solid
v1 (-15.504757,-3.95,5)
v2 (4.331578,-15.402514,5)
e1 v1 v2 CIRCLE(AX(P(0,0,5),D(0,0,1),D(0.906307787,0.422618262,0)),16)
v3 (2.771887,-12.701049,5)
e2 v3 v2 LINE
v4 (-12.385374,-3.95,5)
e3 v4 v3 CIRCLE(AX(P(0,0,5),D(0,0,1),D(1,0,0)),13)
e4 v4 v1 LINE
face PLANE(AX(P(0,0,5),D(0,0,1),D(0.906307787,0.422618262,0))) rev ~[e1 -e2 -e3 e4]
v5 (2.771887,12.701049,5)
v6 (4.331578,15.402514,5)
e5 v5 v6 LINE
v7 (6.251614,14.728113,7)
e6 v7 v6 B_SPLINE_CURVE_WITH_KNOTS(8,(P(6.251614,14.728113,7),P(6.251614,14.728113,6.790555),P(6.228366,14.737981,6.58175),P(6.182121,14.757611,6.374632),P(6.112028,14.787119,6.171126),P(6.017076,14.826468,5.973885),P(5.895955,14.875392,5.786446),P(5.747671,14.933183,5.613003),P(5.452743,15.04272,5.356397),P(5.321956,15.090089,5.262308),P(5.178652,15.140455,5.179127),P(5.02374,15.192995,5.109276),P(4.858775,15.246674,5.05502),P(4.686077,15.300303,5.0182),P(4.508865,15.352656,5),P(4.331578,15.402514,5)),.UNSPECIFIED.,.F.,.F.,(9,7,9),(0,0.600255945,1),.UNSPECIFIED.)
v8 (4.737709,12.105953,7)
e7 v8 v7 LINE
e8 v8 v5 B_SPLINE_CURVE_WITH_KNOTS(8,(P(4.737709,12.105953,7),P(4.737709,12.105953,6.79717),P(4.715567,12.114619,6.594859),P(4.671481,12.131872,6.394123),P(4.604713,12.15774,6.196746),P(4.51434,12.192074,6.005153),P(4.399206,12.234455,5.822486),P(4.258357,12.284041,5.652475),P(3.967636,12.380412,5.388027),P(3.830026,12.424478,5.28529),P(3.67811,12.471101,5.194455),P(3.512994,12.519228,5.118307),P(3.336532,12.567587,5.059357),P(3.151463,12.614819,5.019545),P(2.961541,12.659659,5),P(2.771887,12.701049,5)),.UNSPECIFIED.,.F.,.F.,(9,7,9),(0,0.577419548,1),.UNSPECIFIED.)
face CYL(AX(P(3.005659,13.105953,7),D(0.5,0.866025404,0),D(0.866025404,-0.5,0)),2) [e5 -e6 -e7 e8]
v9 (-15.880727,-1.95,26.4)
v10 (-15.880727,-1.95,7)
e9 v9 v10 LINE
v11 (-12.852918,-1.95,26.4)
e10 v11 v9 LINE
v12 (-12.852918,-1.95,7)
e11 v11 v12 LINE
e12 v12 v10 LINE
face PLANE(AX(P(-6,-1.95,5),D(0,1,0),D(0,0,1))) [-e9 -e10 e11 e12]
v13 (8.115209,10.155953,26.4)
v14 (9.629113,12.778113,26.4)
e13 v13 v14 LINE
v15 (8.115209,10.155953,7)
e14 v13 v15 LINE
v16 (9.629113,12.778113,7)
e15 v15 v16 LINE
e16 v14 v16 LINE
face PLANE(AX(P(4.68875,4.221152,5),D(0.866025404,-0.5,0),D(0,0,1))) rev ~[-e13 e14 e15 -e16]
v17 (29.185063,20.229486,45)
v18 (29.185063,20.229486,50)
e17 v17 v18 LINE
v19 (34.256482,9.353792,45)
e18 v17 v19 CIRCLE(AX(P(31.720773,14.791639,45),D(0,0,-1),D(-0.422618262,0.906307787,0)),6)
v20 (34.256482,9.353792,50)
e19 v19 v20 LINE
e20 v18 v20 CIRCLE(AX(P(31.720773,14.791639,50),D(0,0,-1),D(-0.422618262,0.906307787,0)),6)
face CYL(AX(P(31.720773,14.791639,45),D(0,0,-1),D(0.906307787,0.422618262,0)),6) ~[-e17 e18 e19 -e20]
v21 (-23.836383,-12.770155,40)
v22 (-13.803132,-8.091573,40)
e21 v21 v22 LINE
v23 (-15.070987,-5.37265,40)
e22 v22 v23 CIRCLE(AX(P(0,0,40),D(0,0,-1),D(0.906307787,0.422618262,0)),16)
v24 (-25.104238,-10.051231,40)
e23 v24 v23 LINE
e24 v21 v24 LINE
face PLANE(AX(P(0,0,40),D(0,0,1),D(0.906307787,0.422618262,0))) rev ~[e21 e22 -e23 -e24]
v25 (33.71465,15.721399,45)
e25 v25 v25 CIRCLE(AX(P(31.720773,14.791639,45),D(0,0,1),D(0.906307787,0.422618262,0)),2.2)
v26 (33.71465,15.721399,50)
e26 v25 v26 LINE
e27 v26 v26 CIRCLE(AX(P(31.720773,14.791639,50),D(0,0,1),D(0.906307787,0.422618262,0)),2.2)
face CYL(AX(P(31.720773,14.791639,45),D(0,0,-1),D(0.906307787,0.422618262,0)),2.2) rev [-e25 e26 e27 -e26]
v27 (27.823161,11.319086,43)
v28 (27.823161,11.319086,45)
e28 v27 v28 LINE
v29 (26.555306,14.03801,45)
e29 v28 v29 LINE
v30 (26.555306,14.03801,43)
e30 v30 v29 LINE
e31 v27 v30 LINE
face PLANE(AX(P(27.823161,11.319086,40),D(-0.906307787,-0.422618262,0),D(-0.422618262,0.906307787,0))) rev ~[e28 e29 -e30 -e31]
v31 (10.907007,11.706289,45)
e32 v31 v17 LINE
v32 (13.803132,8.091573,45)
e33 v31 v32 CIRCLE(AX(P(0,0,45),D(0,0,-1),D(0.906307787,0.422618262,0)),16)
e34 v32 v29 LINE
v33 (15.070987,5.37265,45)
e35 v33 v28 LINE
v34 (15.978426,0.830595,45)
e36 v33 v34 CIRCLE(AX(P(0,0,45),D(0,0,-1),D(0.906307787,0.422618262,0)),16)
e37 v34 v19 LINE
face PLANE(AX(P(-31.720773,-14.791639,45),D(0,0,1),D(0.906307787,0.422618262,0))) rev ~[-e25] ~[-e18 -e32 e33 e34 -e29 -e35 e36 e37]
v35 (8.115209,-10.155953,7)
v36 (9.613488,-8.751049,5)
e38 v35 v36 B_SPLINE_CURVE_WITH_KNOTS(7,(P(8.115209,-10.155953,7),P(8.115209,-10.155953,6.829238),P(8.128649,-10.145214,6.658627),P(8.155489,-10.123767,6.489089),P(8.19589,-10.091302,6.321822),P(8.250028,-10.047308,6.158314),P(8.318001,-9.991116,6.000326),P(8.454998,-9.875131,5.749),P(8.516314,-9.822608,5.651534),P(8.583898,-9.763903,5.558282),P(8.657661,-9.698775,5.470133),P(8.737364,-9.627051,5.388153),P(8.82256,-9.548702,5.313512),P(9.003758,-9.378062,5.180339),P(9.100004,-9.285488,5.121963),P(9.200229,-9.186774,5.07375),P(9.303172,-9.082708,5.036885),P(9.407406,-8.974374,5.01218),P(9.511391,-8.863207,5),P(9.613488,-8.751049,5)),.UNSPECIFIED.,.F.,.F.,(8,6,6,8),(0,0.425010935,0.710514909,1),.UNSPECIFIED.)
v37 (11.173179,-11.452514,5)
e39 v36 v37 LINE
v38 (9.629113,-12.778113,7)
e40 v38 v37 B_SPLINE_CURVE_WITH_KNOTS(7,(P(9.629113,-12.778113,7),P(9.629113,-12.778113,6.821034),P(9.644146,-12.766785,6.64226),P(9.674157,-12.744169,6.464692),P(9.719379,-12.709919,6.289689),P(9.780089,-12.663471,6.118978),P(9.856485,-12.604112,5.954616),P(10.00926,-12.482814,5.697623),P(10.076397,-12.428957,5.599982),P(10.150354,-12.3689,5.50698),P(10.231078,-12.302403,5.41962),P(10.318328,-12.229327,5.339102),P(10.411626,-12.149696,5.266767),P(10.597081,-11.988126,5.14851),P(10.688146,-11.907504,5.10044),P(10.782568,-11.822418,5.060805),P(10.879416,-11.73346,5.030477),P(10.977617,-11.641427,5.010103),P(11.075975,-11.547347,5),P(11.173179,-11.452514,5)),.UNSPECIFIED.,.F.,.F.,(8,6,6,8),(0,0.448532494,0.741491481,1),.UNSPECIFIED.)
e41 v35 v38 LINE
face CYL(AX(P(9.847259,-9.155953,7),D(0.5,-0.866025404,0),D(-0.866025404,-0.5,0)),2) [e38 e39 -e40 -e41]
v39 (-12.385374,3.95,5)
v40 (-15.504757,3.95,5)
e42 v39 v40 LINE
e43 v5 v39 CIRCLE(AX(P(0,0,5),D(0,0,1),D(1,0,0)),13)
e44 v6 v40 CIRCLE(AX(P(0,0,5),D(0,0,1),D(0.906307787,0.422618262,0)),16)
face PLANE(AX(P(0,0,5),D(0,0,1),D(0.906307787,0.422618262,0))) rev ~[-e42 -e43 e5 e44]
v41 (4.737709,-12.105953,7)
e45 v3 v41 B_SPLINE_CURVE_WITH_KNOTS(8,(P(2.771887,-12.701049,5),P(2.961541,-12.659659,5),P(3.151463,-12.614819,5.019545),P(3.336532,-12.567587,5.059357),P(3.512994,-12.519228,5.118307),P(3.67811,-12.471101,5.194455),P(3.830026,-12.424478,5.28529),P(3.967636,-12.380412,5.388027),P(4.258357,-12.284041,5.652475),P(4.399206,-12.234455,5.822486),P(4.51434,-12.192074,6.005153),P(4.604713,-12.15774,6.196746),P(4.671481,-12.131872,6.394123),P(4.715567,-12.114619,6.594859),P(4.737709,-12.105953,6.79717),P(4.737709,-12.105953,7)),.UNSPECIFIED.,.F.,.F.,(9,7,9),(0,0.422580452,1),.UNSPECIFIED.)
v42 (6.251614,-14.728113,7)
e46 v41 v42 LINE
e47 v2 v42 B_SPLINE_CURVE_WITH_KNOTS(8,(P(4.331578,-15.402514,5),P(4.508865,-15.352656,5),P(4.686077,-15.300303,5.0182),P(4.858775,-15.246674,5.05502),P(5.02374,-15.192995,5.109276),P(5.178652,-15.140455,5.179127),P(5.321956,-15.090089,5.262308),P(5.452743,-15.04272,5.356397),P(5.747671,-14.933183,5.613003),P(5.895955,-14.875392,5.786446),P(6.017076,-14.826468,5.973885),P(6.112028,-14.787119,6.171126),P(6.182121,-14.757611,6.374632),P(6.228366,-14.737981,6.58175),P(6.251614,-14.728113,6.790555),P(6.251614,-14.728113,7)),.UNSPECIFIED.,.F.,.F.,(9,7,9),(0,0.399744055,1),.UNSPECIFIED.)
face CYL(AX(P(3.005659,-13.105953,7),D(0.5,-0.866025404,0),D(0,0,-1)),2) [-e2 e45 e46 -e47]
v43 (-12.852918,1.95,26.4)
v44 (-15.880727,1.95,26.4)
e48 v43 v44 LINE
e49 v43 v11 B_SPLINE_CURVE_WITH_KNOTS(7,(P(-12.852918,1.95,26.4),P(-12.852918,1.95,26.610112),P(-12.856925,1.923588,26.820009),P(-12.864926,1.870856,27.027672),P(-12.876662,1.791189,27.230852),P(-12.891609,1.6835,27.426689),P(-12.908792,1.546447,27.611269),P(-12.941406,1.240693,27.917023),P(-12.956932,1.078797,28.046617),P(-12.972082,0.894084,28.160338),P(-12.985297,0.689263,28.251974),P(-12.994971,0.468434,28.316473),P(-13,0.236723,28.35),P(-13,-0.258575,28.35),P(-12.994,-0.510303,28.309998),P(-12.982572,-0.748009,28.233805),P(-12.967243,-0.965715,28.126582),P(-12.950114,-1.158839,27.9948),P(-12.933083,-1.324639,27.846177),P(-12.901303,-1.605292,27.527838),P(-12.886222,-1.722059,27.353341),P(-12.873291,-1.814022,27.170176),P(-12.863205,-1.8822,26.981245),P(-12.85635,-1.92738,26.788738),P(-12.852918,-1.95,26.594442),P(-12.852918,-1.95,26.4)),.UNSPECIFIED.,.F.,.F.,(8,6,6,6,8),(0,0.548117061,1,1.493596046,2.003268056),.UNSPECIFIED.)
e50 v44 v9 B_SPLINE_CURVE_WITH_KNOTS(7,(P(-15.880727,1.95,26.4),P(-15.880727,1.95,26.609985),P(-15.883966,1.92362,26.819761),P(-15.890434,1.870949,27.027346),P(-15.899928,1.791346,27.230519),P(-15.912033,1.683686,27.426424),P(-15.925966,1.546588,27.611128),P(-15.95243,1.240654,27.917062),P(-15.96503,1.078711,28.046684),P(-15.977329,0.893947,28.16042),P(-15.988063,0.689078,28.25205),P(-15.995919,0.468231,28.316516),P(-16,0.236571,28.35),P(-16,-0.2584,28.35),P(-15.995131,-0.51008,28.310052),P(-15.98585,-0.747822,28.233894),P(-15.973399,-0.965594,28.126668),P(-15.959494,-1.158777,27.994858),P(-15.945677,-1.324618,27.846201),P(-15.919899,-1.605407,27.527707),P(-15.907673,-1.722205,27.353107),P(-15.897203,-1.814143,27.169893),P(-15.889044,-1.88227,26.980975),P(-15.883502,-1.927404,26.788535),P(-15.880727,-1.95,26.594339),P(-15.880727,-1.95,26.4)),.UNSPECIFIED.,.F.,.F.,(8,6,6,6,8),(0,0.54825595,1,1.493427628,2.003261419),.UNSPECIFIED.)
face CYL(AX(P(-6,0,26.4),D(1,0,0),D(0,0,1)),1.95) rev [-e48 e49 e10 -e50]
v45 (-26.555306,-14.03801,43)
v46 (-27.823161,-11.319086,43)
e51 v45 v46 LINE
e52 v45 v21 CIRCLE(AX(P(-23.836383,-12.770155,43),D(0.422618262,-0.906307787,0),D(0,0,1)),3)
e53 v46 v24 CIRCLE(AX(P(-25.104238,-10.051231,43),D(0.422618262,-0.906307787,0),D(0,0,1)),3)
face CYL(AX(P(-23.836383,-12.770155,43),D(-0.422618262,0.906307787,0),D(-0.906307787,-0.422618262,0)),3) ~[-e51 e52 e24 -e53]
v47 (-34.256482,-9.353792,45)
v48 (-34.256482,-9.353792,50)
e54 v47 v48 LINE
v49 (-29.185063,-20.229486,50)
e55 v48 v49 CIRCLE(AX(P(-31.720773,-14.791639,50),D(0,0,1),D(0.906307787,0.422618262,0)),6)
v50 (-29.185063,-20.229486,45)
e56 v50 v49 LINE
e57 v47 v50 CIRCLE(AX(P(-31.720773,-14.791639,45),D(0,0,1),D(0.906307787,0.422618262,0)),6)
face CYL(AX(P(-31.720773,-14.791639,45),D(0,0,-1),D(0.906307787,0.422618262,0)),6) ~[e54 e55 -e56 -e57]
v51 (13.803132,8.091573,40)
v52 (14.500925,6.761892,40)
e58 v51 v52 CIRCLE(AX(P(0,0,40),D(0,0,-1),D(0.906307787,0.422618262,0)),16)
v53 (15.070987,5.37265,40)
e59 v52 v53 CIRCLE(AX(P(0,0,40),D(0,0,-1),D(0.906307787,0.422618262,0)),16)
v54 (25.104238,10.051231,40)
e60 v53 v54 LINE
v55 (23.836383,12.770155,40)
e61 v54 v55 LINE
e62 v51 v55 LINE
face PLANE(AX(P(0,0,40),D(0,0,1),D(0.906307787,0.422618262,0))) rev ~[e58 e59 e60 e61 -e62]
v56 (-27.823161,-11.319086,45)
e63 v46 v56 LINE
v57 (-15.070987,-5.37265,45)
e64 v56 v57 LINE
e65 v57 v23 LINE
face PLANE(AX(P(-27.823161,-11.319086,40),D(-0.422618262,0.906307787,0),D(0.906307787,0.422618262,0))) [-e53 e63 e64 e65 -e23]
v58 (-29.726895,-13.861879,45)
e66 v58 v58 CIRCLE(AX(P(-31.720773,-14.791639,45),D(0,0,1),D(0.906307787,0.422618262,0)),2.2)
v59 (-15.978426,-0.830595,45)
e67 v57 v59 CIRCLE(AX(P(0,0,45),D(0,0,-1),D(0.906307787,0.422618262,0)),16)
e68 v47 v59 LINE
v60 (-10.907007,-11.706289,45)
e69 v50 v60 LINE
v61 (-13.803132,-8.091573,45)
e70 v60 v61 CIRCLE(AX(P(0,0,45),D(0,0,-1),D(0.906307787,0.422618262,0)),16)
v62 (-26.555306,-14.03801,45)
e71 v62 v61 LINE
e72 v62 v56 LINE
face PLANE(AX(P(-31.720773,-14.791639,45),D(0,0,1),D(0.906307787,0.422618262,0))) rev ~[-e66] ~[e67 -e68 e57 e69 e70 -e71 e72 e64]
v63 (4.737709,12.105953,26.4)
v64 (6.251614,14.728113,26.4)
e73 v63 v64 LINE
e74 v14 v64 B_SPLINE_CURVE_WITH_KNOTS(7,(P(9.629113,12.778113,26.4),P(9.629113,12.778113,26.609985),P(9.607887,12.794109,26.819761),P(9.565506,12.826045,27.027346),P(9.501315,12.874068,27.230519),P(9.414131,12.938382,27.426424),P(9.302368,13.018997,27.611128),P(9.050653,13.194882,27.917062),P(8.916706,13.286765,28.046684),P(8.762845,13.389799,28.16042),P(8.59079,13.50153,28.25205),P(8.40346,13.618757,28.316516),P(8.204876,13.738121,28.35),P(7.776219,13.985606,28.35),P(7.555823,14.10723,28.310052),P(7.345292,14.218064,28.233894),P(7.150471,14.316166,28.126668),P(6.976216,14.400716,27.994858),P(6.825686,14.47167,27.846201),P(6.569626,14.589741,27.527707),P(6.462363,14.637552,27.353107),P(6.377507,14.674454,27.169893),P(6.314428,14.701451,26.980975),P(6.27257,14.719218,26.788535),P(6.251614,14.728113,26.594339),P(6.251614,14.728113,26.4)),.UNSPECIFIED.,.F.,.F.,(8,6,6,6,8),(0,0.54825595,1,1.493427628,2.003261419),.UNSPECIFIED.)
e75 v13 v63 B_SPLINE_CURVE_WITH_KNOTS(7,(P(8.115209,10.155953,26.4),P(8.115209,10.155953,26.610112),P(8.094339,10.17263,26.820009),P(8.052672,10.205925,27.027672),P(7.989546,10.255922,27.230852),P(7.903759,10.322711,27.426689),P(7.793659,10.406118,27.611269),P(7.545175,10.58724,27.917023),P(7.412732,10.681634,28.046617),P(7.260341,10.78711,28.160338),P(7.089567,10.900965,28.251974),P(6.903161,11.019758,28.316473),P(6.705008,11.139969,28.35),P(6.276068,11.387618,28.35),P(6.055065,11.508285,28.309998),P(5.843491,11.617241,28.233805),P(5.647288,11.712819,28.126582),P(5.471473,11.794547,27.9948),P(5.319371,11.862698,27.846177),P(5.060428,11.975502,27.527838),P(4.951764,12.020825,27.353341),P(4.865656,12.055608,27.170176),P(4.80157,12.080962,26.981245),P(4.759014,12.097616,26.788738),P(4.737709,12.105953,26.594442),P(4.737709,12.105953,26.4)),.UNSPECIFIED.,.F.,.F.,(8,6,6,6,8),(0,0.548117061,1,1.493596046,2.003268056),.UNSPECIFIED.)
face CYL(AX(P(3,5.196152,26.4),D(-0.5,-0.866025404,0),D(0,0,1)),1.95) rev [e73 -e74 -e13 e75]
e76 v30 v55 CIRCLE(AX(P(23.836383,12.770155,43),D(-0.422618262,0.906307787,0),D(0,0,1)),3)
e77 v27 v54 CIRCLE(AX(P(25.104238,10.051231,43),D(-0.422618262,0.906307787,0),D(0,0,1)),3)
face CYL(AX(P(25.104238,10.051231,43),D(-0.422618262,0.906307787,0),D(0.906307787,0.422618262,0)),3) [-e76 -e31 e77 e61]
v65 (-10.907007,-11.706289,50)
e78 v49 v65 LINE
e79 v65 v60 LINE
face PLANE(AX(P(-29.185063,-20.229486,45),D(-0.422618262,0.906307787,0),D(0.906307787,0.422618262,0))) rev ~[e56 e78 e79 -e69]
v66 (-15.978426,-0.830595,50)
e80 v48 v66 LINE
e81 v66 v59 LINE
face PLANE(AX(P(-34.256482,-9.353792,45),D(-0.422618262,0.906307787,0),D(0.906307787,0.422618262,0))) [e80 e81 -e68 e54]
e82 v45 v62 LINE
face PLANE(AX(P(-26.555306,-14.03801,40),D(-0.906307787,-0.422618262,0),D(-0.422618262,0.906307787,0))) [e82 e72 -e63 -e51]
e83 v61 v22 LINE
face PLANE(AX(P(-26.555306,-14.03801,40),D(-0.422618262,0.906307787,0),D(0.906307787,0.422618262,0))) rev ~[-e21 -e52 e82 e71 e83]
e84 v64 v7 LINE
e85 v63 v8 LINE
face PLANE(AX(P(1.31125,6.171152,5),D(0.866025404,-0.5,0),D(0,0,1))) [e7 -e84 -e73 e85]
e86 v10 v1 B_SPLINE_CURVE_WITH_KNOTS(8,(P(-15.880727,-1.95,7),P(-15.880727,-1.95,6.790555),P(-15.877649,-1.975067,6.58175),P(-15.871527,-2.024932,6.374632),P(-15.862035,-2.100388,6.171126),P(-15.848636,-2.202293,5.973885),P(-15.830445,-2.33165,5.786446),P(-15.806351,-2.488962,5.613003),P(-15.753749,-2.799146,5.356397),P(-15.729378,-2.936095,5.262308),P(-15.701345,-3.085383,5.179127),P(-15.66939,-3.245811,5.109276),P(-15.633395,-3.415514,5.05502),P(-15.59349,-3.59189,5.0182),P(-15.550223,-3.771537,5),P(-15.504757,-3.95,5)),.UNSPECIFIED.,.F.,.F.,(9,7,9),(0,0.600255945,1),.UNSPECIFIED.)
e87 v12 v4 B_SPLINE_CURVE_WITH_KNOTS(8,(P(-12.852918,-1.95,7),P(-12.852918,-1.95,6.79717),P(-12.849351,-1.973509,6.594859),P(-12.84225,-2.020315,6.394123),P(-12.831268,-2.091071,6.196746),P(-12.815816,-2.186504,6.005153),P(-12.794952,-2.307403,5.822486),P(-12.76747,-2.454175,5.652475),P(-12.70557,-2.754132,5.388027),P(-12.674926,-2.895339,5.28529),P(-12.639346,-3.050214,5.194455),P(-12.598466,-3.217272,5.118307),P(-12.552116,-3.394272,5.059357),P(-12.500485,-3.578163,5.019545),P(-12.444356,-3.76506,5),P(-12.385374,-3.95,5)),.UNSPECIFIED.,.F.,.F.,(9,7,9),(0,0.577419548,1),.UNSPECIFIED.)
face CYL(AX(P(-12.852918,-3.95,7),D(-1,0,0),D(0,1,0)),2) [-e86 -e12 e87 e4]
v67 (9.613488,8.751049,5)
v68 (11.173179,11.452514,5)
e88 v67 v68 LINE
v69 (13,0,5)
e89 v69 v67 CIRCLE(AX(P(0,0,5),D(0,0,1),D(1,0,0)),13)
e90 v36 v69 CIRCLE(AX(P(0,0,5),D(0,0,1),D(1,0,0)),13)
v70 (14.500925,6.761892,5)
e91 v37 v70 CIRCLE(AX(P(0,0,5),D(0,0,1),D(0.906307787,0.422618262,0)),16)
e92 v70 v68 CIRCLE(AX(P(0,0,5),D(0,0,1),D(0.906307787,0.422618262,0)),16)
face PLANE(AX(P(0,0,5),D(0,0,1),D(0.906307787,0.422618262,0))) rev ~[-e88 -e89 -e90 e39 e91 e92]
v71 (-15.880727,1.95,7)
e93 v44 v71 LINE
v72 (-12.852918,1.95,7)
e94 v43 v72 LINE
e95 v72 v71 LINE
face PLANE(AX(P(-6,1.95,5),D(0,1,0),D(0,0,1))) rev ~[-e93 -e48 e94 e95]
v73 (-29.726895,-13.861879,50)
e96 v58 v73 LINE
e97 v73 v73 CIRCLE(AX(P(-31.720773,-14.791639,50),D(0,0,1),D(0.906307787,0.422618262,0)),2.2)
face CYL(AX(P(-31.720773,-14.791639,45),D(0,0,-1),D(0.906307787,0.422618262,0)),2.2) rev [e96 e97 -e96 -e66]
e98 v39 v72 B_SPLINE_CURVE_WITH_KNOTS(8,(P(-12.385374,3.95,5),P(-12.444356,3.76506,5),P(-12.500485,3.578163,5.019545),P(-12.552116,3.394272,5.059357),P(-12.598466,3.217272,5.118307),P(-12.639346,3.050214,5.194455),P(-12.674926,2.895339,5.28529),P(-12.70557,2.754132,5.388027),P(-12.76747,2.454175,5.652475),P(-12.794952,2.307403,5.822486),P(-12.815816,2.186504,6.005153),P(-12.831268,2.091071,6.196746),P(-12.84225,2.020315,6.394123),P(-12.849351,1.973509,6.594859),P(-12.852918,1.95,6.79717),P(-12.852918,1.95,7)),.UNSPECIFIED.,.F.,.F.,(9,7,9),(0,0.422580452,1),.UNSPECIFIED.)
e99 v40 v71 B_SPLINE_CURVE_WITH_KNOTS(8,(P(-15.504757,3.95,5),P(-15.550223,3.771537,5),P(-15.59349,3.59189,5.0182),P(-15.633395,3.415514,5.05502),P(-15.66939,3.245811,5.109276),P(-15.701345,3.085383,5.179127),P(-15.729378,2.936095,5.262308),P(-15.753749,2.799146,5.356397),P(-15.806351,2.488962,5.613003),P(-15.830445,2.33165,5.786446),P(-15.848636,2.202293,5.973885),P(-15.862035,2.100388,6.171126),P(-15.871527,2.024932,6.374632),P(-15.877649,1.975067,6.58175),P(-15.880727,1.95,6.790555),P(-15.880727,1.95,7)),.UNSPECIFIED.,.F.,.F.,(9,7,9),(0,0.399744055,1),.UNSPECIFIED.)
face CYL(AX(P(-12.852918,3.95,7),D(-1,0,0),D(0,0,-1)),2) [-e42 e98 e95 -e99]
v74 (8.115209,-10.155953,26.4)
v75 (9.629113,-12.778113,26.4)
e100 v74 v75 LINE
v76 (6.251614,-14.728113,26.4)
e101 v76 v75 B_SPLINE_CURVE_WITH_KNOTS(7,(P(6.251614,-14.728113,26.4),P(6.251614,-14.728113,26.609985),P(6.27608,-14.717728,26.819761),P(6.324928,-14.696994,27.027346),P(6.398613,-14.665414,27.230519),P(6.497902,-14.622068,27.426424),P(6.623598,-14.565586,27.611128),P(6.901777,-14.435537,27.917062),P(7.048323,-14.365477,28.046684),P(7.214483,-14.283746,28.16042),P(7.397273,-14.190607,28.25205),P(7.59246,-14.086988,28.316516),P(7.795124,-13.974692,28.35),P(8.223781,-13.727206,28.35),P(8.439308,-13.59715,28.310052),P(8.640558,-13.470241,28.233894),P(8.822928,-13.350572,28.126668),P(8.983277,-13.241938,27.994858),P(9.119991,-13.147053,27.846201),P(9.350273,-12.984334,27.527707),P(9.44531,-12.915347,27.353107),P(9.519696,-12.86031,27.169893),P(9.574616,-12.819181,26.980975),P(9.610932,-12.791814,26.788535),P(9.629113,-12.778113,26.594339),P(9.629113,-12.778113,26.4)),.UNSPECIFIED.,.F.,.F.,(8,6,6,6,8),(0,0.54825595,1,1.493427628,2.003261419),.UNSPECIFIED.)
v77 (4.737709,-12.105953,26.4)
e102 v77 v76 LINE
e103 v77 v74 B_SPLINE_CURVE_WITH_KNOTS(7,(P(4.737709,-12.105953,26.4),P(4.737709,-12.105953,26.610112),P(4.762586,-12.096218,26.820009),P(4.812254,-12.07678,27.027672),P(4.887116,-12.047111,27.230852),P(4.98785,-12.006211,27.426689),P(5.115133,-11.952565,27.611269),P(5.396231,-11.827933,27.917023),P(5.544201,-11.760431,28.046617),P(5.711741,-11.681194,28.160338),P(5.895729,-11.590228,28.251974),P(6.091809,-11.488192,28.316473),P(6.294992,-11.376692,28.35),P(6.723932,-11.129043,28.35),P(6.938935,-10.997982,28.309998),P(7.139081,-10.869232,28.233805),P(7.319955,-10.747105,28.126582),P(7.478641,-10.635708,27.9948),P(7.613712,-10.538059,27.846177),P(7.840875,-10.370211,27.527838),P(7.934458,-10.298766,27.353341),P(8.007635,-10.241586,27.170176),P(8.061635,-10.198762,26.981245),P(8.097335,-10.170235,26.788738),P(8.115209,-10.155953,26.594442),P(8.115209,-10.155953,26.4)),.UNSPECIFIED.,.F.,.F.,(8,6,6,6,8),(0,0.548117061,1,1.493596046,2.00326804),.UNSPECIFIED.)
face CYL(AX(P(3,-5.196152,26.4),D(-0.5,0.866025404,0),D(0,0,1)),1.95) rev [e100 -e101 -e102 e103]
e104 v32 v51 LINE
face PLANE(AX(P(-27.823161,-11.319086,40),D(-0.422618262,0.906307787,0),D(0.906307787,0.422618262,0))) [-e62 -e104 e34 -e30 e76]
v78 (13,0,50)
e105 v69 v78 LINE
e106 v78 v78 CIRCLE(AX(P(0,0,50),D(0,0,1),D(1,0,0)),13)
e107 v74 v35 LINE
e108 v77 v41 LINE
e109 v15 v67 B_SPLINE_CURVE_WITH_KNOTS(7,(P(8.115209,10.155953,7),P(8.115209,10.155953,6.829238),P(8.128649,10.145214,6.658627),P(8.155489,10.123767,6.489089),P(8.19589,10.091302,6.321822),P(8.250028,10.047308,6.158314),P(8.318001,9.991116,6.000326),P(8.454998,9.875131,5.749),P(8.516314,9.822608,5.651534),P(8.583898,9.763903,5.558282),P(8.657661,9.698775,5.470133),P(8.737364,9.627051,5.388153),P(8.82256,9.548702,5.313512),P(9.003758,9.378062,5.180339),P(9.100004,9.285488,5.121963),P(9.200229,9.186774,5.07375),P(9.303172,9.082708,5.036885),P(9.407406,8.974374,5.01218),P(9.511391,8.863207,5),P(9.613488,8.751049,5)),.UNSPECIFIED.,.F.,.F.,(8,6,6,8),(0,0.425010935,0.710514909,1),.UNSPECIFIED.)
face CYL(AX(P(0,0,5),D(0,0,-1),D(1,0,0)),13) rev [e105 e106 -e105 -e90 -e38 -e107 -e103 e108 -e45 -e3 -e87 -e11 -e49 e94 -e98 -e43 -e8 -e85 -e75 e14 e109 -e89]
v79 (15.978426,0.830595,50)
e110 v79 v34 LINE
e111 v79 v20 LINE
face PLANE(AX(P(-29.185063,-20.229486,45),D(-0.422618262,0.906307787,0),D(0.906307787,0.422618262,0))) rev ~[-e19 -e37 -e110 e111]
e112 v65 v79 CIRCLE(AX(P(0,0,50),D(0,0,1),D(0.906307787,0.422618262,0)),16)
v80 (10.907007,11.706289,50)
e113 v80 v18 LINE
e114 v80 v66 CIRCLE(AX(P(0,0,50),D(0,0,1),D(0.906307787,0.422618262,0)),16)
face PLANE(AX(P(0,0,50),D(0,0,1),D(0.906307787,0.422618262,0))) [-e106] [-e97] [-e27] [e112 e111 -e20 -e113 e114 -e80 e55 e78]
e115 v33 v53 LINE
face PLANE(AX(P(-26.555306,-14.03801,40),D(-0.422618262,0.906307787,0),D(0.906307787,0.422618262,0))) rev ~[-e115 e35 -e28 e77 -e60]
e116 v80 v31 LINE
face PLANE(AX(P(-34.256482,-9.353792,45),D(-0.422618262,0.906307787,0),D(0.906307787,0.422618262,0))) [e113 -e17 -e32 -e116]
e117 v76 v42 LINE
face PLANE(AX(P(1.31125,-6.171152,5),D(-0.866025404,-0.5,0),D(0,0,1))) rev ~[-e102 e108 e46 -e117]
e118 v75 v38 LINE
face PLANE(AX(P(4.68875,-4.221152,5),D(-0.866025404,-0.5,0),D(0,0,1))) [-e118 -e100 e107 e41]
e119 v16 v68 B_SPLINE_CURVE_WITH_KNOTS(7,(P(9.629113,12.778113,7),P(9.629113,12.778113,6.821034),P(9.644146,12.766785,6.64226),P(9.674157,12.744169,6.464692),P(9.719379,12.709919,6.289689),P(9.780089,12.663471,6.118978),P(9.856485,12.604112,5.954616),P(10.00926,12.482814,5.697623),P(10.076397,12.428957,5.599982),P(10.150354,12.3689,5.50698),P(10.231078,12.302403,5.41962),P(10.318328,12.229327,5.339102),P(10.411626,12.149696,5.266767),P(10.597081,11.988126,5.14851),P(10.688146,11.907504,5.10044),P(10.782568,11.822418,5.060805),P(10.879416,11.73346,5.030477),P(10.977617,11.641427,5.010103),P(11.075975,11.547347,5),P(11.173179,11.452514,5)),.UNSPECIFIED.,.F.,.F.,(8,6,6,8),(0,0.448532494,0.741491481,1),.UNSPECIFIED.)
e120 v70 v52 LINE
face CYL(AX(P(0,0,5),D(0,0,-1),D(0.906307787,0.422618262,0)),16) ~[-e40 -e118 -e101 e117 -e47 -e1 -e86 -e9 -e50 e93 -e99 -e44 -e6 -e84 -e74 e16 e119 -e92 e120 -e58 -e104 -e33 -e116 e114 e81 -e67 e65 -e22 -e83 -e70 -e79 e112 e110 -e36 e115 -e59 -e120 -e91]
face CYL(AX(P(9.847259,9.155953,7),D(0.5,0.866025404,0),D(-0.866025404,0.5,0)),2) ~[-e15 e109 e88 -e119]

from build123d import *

# Parameters (mm, degrees)
CYLINDER024_R             = 13
CYLINDER024_DEPTH         = 45
CYLINDER026_R             = 1.95
CYLINDER026_DEPTH         = 10
BOX002_W                  = 21.4
BOX002_H                  = 3.9
BOX002_DEPTH              = 10
FUSION013_PLACEMENT_ANGLE = 90
ARRAY011_COUNT            = 3
CYLINDER028_R             = 2.2
CYLINDER028_DEPTH         = 5
ARRAY013_X_COUNT          = 2
ARRAY013_X_PITCH          = 70
BOX003_W                  = 70
BOX003_H                  = 12
BOX003_DEPTH              = 5
BOX007_W                  = 60
BOX007_H                  = 3
BOX007_DEPTH              = 5
FILLET003_R               = 3
CYLINDER027_R             = 6
CYLINDER027_DEPTH         = 5
ARRAY012_X_COUNT          = 2
ARRAY012_X_PITCH          = 70
CYLINDER025_R             = 16
CYLINDER025_DEPTH         = 45
FUSION016_PLACEMENT_ANGLE = 25
FILLET005_R               = 2


with BuildPart() as internal_cylinder:
    # Cylinder024 → Cylinder024 (new body)
    with BuildSketch(Plane.XY.offset(5)):
        Circle(CYLINDER024_R)
    extrude(amount=CYLINDER024_DEPTH)


with BuildPart() as hole_side001:
    # Cylinder026 → Cylinder026 (new body)
    with BuildSketch(Plane(origin=(21.4, 0, 0), x_dir=(1, 0, 0), z_dir=(0, 0, 1))):
        Circle(CYLINDER026_R)
    extrude(amount=CYLINDER026_DEPTH)


with BuildPart() as middle_hole_fusion:
    # Box002 → Box002 (new body)
    with BuildSketch(Plane(origin=(0, -1.95, 0), x_dir=(1, 0, 0), z_dir=(0, 0, 1))):
        with Locations((10.7, 1.95)):
            Rectangle(BOX002_W, BOX002_H)
    extrude(amount=BOX002_DEPTH)

    # Fusion013: union hole side001
    add(hole_side001.part)


with BuildPart() as middle_hole_fusion_1:
    # Fusion013 placement: moved
    add(middle_hole_fusion.part.moved(Location((-6, 0, 0))).rotate(Axis((-6, 0, 0), (0, -1, 0)), FUSION013_PLACEMENT_ANGLE))

    # Array011: middle hole fusion ×3 about axis
    array011_axis = Axis((0, 0, 0), (0, 0, 1))


with BuildPart() as middle_hole_fusion_2:
    add(middle_hole_fusion_1.part)
    for i in range(1, ARRAY011_COUNT):
        add(middle_hole_fusion_1.part.rotate(array011_axis, i * 360 / ARRAY011_COUNT))


with BuildPart() as middle_hole_fusion_3:
    # Array011 placement: moved
    add(middle_hole_fusion_2.part.moved(Location((0, 0, 5))))

    # Fusion014: union internal cylinder
    add(internal_cylinder.part)


with BuildPart() as spring_plate_end_array001:
    # Cylinder028 → Cylinder028 (new body)
    with BuildSketch(Plane.XY):
        Circle(CYLINDER028_R)
    extrude(amount=CYLINDER028_DEPTH)

    # Array013 X: spring plate end array001 ×2


with BuildPart() as spring_plate_end_array001_1:
    add(spring_plate_end_array001.part)
    with Locations(*[(i * ARRAY013_X_PITCH, 0, 0) for i in range(1, ARRAY013_X_COUNT)]):
        add(spring_plate_end_array001.part)


with BuildPart() as spring_plate_cube:
    # Box003 → Box003 (new body)
    with BuildSketch(Plane(origin=(0, -6, 0), x_dir=(1, 0, 0), z_dir=(0, 0, 1))):
        with Locations((35, 6)):
            Rectangle(BOX003_W, BOX003_H)
    extrude(amount=BOX003_DEPTH)


with BuildPart() as fillet003:
    # Box007 → Box007 (new body)
    with BuildSketch(Plane(origin=(5, -1.5, -5), x_dir=(1, 0, 0), z_dir=(0, 0, 1))):
        with Locations((30, 1.5)):
            Rectangle(BOX007_W, BOX007_H)
    extrude(amount=BOX007_DEPTH)

    # Fillet003
    fillet003_edges = [fillet003.edges().sort_by_distance(p)[0] for p in [
        (5, 0, -5),
        (65, 0, -5),
    ]]
    fillet(fillet003_edges, radius=FILLET003_R)


with BuildPart() as spring_attachment_plate:
    # Cylinder027 → Cylinder027 (new body)
    with BuildSketch(Plane.XY):
        Circle(CYLINDER027_R)
    extrude(amount=CYLINDER027_DEPTH)

    # Array012 X: spring attachment plate ×2


with BuildPart() as spring_attachment_plate_1:
    add(spring_attachment_plate.part)
    with Locations(*[(i * ARRAY012_X_PITCH, 0, 0) for i in range(1, ARRAY012_X_COUNT)]):
        add(spring_attachment_plate.part)

    # Fusion015: union spring plate cube, Fillet003
    add(spring_plate_cube.part)
    add(fillet003.part)

    # Cut009: cut spring plate end array001
    add(spring_plate_end_array001_1.part, mode=Mode.SUBTRACT)


with BuildPart() as spring_attachment_plate_2:
    # Cut009 placement: moved
    add(spring_attachment_plate_1.part.moved(Location((-35, 0, 45))))


with BuildPart() as middle_cut_fillet:
    # Cylinder025 → Cylinder025 (new body)
    with BuildSketch(Plane.XY.offset(5)):
        Circle(CYLINDER025_R)
    extrude(amount=CYLINDER025_DEPTH)

    # Fusion016: union spring attachment plate
    add(spring_attachment_plate_2.part)


with BuildPart() as middle_cut_fillet_1:
    # Fusion016 placement: moved
    add(middle_cut_fillet.part.rotate(Axis((0, 0, 0), (0, 0, 1)), FUSION016_PLACEMENT_ANGLE))

    # Cut008: cut middle hole fusion
    add(middle_hole_fusion_3.part, mode=Mode.SUBTRACT)

    # Fillet005
    fillet005_edges = [middle_cut_fillet_1.edges().sort_by_distance(p)[0] for p in [
        (8.872161, -11.467033, 5),
        (8.872161, 11.467033, 5),
        (5.494662, -13.417033, 5),
        (-14.366823, -1.95, 5),
        (-14.366823, 1.95, 5),
        (5.494662, 13.417033, 5),
    ]]
    fillet(fillet005_edges, radius=FILLET005_R)


solid = middle_cut_fillet_1.part
